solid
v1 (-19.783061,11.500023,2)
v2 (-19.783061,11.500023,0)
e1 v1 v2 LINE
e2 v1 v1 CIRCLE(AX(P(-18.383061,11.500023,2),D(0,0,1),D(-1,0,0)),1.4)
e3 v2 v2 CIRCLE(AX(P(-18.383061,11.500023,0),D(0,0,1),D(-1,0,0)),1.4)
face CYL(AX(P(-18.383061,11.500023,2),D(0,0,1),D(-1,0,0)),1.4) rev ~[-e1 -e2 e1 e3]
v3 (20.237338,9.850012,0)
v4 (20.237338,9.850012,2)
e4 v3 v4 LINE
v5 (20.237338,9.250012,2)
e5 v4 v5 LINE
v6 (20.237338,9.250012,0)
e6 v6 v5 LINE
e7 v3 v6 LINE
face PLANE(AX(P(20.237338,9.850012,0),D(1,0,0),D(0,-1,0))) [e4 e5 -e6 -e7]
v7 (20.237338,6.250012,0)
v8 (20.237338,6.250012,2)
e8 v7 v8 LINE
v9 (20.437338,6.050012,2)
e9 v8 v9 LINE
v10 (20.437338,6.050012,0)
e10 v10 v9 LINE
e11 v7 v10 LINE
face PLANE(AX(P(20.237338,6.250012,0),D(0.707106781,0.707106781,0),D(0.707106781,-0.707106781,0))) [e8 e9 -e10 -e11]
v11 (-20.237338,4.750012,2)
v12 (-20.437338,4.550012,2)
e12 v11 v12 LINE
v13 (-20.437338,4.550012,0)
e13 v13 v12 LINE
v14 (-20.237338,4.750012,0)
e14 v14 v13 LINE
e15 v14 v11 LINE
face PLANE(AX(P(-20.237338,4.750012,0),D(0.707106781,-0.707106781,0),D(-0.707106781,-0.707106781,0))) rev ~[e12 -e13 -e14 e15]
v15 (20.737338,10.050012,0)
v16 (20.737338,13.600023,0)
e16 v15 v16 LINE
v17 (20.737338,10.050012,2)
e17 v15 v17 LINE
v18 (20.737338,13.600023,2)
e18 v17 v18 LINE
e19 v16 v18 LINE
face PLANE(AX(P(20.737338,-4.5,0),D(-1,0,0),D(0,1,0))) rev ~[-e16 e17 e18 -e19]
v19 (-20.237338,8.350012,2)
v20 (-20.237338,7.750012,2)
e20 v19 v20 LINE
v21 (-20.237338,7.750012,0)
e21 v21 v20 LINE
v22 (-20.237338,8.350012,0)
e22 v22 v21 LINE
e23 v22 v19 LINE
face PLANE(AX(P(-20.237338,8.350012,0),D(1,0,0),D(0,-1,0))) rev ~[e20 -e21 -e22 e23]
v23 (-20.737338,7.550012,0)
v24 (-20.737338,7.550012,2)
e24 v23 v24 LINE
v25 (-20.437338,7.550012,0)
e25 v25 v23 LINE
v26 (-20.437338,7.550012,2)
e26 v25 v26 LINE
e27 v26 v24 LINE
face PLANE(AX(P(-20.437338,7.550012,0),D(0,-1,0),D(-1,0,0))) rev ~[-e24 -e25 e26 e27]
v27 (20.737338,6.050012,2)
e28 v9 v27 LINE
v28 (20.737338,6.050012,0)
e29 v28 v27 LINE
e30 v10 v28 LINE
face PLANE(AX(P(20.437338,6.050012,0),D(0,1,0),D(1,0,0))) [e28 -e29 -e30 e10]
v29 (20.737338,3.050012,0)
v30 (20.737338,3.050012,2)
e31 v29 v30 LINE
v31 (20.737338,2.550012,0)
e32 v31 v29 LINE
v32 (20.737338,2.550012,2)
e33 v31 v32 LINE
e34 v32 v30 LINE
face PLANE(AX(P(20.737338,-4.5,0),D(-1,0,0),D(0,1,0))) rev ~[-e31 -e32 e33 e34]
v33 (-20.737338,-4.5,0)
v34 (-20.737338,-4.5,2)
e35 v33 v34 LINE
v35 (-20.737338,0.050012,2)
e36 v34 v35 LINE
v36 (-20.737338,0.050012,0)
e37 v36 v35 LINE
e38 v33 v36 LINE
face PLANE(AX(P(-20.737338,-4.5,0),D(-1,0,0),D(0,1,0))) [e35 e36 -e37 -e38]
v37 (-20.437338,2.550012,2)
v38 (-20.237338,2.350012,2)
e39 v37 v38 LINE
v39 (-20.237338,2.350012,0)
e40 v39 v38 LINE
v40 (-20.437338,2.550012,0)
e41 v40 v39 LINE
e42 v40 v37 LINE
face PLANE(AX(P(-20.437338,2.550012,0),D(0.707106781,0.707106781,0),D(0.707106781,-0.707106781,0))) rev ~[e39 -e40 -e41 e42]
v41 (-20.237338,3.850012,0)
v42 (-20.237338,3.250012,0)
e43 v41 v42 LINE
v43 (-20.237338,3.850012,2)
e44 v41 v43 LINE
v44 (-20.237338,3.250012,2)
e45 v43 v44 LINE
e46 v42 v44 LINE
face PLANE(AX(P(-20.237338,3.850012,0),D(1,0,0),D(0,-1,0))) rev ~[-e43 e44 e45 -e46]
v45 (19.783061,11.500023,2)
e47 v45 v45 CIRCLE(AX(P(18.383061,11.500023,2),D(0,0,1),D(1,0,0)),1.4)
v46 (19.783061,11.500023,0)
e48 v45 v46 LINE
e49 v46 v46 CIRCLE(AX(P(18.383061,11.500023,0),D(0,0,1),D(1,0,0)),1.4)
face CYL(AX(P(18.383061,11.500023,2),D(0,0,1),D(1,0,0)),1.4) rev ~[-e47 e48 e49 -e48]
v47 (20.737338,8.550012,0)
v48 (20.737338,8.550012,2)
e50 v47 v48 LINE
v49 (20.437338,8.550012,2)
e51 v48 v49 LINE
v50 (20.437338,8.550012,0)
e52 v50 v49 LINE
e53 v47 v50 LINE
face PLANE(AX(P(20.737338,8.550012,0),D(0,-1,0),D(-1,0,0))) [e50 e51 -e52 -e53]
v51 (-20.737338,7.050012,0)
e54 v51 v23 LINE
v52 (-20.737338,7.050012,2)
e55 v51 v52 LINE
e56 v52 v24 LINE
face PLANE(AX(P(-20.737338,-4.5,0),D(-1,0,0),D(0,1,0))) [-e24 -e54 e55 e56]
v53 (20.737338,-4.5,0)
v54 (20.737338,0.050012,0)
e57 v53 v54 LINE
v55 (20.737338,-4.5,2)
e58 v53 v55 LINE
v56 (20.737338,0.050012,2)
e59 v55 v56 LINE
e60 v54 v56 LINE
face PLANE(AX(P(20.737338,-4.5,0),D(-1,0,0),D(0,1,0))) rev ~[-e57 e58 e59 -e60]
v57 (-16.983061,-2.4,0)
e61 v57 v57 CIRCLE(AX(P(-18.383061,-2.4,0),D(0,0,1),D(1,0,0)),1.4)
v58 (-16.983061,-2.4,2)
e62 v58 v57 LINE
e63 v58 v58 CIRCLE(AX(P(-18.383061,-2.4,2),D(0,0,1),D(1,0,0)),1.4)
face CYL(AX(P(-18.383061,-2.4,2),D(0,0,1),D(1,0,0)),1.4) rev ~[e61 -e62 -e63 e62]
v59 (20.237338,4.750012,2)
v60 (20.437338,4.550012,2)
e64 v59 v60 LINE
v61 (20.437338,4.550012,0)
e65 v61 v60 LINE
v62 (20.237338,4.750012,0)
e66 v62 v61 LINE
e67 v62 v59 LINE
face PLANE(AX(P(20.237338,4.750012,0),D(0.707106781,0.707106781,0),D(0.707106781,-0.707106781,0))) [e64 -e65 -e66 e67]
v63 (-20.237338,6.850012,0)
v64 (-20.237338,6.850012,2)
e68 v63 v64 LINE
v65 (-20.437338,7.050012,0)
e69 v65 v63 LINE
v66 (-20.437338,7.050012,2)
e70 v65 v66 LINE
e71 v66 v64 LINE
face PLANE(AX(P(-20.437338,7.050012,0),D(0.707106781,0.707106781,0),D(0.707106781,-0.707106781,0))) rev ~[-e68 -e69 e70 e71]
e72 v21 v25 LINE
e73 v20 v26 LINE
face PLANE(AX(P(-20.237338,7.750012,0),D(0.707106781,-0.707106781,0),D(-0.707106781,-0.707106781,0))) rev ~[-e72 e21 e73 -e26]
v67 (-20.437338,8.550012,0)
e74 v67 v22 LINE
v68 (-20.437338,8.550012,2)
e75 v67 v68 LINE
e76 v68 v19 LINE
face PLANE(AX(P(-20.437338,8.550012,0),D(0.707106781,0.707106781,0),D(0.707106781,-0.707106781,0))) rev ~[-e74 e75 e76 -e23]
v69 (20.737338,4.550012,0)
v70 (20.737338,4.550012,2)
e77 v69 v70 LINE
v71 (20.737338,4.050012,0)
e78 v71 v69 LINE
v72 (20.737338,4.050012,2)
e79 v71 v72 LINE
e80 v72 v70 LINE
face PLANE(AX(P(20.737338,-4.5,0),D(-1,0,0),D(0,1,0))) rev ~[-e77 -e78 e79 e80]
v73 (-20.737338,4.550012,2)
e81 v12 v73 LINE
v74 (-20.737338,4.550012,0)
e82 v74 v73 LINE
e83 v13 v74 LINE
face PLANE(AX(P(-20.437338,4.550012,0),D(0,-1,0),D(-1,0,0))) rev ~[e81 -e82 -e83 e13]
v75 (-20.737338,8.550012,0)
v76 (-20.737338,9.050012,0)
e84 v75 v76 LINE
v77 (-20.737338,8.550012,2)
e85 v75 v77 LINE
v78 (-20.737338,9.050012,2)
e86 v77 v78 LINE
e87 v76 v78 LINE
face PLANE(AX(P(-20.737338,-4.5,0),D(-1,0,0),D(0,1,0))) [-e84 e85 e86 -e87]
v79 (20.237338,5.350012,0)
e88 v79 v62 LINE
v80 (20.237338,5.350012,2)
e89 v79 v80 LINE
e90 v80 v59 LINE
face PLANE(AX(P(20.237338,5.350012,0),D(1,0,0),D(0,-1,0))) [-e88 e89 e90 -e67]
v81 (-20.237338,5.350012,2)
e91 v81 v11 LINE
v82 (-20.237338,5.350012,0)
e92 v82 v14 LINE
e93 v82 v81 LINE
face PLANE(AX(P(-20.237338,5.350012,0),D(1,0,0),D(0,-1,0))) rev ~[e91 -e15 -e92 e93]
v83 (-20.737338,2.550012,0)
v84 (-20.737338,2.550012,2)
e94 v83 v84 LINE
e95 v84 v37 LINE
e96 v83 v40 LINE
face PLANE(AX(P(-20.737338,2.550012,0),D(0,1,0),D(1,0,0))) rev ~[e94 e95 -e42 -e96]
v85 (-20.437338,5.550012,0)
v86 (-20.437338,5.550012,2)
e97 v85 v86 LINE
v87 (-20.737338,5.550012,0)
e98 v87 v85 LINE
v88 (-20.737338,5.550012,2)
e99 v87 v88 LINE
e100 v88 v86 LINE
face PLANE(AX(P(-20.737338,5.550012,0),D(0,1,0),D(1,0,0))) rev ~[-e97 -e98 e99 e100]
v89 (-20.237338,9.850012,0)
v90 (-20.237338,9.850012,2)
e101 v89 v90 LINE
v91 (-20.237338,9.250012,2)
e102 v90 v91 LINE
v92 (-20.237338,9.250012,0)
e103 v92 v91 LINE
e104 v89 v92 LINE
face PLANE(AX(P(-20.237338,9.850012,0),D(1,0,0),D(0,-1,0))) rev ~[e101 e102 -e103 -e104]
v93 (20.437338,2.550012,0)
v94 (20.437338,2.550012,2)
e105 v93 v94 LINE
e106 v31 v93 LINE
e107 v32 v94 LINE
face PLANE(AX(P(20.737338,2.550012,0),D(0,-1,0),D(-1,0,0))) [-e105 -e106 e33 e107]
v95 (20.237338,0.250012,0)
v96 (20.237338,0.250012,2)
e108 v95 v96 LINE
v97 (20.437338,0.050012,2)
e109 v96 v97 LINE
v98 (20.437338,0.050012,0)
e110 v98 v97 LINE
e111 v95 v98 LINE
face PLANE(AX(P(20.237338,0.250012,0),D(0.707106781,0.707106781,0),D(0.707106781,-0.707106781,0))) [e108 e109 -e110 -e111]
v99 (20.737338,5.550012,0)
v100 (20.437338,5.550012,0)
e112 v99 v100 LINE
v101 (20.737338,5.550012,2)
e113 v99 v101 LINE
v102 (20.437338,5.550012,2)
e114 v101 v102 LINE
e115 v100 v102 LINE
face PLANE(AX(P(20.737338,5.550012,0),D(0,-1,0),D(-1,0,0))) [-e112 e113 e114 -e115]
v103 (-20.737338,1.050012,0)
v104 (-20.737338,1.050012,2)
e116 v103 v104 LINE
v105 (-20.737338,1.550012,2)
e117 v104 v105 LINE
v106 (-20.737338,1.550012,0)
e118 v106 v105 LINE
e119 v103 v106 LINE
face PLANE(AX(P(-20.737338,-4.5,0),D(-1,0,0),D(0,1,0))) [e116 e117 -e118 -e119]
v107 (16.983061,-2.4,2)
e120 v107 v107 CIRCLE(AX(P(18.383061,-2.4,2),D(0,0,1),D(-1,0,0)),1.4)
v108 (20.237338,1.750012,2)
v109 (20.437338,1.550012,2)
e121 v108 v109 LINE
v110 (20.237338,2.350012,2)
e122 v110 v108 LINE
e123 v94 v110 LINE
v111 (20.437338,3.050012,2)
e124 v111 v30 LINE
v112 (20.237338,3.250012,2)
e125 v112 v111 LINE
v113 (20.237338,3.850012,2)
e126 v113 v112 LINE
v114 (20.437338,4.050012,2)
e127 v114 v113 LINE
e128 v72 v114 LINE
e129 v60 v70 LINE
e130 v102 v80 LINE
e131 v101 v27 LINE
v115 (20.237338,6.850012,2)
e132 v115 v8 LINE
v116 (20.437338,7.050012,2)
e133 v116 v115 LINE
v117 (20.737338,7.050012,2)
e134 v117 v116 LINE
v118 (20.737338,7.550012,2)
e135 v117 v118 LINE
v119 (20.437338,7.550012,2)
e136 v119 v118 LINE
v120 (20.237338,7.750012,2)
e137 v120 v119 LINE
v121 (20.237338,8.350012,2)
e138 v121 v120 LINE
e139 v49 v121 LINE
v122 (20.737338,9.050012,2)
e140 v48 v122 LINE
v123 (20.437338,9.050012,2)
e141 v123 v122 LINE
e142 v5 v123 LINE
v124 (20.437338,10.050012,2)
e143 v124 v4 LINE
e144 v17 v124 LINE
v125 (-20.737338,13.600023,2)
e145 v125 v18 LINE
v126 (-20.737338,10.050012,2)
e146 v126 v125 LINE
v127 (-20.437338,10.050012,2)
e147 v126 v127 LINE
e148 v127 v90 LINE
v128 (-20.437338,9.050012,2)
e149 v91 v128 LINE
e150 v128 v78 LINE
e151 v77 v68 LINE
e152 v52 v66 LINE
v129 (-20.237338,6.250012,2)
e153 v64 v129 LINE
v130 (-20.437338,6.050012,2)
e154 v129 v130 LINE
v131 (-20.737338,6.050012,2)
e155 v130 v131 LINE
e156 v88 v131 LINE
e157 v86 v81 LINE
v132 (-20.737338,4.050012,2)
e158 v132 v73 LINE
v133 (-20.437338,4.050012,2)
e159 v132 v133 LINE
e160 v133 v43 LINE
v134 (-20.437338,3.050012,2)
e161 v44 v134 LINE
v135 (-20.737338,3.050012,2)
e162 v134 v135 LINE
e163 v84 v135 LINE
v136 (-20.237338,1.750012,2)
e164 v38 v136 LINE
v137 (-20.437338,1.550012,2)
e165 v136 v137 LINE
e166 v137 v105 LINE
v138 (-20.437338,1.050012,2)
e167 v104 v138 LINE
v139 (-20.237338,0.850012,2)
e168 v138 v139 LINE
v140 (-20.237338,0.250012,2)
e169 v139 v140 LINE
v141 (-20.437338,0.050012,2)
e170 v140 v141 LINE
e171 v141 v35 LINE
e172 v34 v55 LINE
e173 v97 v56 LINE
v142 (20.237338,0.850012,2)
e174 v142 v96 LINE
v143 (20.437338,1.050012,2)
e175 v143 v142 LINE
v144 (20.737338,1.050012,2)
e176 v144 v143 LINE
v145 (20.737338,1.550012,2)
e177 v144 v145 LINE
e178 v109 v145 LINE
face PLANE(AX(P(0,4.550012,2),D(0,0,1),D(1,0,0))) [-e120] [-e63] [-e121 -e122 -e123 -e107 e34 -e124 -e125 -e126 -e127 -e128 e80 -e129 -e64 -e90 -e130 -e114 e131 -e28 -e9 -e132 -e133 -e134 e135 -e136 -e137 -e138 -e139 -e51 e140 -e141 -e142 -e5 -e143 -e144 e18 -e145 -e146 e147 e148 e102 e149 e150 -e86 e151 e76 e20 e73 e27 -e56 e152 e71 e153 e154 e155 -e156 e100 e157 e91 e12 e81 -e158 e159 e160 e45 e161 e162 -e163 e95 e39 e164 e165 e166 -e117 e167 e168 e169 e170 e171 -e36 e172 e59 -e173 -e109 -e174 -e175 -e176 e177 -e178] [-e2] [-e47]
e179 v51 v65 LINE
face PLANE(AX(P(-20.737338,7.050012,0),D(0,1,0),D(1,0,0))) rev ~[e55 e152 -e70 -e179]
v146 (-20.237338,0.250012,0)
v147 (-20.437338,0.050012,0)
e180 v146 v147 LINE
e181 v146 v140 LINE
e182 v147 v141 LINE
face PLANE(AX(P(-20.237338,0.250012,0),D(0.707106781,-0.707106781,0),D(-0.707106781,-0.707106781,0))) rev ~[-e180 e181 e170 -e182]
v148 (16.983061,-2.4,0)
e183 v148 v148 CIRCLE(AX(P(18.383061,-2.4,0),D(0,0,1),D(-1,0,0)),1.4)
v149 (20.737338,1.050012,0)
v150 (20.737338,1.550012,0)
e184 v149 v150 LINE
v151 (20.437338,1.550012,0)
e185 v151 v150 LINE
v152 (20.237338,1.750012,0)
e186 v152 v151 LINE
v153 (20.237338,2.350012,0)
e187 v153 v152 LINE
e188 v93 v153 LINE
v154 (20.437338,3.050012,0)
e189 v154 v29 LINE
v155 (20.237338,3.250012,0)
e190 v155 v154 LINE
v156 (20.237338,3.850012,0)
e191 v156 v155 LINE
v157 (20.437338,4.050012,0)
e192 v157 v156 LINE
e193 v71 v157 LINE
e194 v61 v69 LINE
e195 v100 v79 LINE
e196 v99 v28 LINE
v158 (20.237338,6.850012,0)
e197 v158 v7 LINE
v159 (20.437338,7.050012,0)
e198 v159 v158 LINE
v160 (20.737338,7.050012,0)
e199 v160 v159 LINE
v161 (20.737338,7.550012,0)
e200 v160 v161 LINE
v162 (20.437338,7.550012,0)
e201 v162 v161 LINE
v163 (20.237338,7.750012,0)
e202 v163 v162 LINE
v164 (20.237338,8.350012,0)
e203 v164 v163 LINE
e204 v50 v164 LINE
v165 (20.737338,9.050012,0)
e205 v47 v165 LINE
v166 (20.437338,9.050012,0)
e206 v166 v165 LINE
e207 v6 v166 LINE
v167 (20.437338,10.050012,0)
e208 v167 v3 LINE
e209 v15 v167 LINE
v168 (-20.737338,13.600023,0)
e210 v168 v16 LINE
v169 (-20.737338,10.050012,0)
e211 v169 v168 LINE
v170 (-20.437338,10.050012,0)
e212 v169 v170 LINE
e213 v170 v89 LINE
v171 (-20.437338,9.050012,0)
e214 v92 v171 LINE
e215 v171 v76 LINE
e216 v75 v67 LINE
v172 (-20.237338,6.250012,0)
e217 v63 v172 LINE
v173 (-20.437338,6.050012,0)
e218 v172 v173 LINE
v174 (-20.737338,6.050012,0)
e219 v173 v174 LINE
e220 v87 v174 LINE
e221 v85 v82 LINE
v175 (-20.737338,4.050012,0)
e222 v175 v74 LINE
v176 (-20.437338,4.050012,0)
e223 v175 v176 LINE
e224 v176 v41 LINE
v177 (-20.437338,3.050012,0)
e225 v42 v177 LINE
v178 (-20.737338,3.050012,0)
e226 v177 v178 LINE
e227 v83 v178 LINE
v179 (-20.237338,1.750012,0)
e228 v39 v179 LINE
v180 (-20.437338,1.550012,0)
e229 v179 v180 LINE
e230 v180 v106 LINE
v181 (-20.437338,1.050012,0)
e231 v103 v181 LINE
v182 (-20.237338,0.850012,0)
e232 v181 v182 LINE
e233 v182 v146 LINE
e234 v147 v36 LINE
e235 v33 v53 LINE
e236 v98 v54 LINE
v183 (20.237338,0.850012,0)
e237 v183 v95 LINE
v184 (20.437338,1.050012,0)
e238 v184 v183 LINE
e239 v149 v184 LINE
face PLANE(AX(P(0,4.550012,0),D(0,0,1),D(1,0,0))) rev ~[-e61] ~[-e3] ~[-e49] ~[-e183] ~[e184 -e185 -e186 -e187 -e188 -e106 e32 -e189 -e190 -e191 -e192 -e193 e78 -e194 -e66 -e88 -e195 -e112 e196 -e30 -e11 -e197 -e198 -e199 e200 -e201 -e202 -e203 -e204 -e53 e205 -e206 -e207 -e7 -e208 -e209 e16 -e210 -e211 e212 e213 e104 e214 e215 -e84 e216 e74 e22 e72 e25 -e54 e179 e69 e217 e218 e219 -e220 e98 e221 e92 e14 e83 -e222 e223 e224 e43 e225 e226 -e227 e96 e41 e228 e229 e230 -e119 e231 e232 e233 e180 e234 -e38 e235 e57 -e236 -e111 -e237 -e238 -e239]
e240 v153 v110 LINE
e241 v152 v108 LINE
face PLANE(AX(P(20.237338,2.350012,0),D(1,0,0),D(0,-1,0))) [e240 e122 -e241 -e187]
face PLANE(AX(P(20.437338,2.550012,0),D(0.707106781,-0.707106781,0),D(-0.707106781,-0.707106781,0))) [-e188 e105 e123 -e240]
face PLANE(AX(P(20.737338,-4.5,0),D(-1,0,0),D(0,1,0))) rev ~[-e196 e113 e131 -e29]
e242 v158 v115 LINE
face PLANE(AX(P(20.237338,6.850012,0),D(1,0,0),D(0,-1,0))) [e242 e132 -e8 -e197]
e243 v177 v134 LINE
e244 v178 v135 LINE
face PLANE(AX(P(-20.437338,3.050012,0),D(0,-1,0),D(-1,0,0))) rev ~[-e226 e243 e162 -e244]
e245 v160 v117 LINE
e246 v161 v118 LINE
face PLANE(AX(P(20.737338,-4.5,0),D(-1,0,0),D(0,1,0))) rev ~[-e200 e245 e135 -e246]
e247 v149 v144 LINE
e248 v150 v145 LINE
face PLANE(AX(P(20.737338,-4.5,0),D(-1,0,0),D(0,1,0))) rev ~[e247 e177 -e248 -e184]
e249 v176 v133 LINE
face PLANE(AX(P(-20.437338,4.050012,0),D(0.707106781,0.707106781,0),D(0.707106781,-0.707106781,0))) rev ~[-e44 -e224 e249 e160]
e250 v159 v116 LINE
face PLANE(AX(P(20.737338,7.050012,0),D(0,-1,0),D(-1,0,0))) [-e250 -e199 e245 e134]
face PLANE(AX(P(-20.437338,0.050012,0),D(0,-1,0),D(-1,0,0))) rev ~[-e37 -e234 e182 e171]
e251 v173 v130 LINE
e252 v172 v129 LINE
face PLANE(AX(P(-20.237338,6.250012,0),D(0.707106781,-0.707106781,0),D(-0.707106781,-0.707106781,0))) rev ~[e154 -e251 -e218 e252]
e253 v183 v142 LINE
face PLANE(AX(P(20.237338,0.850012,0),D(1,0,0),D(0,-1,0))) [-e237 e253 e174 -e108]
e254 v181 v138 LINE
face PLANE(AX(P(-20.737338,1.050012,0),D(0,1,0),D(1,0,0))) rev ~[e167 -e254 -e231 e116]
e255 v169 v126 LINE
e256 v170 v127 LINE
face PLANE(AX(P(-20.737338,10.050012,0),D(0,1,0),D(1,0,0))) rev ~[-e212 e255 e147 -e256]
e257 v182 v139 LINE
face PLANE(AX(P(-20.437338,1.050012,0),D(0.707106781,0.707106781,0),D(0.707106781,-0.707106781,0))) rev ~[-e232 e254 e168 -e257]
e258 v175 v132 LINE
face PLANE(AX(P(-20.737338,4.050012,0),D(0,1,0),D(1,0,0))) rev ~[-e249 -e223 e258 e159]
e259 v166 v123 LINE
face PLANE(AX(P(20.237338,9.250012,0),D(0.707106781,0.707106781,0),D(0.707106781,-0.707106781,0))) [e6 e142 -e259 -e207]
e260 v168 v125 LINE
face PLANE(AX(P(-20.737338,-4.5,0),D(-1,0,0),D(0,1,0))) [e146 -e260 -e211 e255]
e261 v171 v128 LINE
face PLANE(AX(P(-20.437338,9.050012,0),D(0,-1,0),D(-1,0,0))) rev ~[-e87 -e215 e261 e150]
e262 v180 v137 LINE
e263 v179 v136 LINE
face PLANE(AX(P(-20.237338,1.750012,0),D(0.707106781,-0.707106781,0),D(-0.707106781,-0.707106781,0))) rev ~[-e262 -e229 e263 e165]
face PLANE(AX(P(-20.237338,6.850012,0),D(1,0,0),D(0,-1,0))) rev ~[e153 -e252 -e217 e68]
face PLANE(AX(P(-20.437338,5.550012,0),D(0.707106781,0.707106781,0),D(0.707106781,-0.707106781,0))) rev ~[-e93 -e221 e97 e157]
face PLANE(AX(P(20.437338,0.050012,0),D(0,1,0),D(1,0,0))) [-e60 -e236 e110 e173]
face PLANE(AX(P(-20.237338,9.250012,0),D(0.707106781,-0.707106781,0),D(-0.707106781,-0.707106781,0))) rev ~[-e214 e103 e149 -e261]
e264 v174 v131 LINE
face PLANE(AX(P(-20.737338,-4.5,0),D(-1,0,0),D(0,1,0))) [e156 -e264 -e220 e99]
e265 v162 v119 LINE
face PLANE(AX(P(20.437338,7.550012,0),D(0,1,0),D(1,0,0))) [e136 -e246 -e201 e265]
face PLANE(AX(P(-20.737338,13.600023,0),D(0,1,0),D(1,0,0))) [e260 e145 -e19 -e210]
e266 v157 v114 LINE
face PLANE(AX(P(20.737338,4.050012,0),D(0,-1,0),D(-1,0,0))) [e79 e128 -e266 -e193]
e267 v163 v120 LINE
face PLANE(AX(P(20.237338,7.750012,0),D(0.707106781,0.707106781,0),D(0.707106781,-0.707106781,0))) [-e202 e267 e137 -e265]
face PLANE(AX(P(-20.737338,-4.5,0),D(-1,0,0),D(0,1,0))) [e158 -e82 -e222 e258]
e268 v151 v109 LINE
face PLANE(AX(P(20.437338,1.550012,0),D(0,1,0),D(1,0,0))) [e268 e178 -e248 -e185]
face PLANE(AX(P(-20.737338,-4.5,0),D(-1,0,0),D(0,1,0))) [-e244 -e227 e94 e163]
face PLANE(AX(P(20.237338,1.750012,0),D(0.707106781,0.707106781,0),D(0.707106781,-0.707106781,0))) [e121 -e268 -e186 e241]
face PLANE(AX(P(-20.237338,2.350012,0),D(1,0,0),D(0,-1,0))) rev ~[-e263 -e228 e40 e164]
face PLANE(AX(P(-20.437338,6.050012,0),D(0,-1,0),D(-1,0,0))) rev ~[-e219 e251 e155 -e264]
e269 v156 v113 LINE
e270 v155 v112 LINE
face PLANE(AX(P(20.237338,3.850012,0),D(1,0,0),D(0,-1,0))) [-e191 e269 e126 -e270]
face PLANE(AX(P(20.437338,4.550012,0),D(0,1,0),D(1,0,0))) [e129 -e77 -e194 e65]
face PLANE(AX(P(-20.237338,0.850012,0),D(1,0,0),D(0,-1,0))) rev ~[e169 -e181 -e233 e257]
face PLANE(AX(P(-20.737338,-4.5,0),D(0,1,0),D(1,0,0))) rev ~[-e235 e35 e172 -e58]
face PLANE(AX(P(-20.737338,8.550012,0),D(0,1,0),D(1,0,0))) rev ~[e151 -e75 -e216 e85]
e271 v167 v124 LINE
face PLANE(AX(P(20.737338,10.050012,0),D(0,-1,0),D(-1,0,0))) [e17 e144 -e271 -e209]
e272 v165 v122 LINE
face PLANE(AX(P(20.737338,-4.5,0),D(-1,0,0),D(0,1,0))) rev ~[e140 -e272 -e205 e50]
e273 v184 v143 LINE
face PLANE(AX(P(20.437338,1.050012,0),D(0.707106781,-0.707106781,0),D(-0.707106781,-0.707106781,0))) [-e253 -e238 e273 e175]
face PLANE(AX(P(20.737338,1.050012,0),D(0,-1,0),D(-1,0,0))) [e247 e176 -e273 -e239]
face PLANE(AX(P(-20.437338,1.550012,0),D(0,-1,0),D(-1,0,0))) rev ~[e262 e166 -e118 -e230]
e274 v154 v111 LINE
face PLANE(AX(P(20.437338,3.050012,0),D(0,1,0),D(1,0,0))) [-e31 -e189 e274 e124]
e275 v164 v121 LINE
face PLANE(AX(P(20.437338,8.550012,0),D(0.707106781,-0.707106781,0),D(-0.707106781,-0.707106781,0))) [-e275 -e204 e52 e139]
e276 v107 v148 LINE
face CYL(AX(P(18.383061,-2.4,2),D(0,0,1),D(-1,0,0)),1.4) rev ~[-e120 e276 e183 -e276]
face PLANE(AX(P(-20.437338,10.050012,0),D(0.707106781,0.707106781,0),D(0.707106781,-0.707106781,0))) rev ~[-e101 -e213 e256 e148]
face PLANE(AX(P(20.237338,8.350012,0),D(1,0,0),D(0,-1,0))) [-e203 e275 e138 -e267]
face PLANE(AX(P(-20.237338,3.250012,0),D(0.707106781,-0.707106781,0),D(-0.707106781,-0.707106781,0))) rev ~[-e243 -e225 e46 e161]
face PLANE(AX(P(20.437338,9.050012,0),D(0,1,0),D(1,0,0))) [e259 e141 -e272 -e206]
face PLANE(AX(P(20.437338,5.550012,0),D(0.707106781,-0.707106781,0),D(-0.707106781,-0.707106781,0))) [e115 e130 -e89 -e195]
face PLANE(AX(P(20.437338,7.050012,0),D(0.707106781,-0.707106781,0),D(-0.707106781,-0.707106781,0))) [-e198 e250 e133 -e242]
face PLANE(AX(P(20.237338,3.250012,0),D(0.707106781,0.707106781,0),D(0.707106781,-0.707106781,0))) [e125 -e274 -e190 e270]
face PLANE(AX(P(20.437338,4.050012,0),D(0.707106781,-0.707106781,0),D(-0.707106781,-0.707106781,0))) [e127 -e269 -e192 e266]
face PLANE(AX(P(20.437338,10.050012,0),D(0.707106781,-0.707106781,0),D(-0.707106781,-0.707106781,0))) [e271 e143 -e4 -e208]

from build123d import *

# Parameters (mm, degrees)
SKETCH_1_W          = 41.47467615
SKETCH_1_H          = 18.100023376
EXTRUDE_1_DEPTH     = 2
CUT_EXTRUDE_1_REACH = 26.88
SKETCH_2_R          = 1.4
CUT_EXTRUDE_2_REACH = 26.88


with BuildPart() as part:
    # 草图1 → 凸台-拉伸1 (new body)
    with BuildSketch(Plane.XY):
        with Locations((0, 4.550011688)):
            Rectangle(SKETCH_1_W, SKETCH_1_H)
    extrude(amount=EXTRUDE_1_DEPTH)

    # 草图2 → 切除-拉伸1 (cut, up to next)
    with BuildSketch(Plane.XY.offset(2), mode=Mode.PRIVATE) as cut_extrude_1_sk1:
        with Locations((-18.383061341, -2.4)):
            Circle(SKETCH_2_R)
    cut_extrude_1_tool1 = extrude(cut_extrude_1_sk1.sketch, amount=-CUT_EXTRUDE_1_REACH, mode=Mode.PRIVATE) & part.part
    # 草图2 → 切除-拉伸1 (cut, up to next)
    with BuildSketch(Plane.XY.offset(2), mode=Mode.PRIVATE) as cut_extrude_1_sk2:
        with Locations(Location((18.383061341, -2.4, 0), (0, 0, 180))):
            Circle(SKETCH_2_R)
    cut_extrude_1_tool2 = extrude(cut_extrude_1_sk2.sketch, amount=-CUT_EXTRUDE_1_REACH, mode=Mode.PRIVATE) & part.part
    # 草图2 → 切除-拉伸1 (cut, up to next)
    with BuildSketch(Plane.XY.offset(2), mode=Mode.PRIVATE) as cut_extrude_1_sk3:
        with Locations((18.383061341, 11.500023376)):
            Circle(SKETCH_2_R)
    cut_extrude_1_tool3 = extrude(cut_extrude_1_sk3.sketch, amount=-CUT_EXTRUDE_1_REACH, mode=Mode.PRIVATE) & part.part
    # 草图2 → 切除-拉伸1 (cut, up to next)
    with BuildSketch(Plane.XY.offset(2), mode=Mode.PRIVATE) as cut_extrude_1_sk4:
        with Locations(Location((-18.383061341, 11.500023376, 0), (0, 0, 180))):
            Circle(SKETCH_2_R)
    cut_extrude_1_tool4 = extrude(cut_extrude_1_sk4.sketch, amount=-CUT_EXTRUDE_1_REACH, mode=Mode.PRIVATE) & part.part
    add(cut_extrude_1_tool1.solids().sort_by_distance((-18.383061, -2.4, 2))[0], mode=Mode.SUBTRACT)
    add(cut_extrude_1_tool2.solids().sort_by_distance((18.383061, -2.4, 2))[0], mode=Mode.SUBTRACT)
    add(cut_extrude_1_tool3.solids().sort_by_distance((18.383061, 11.500023, 2))[0], mode=Mode.SUBTRACT)
    add(cut_extrude_1_tool4.solids().sort_by_distance((-18.383061, 11.500023, 2))[0], mode=Mode.SUBTRACT)

    # 草图3 → 切除-拉伸2 (cut, up to next)
    with BuildSketch(Plane(origin=(0, 0, 0), x_dir=(-1, 0, 0), z_dir=(0, 0, -1)), mode=Mode.PRIVATE) as cut_extrude_2_sk1:
        Polygon((-20.737338075, 1.050011688), (-20.437338075, 1.050011688), (-20.237338075, 0.850011688), (-20.237338075, 0.250011688), (-20.437338075, 0.050011688), (-20.737338075, 0.050011688), align=None)
    cut_extrude_2_tool1 = extrude(cut_extrude_2_sk1.sketch, amount=-CUT_EXTRUDE_2_REACH, mode=Mode.PRIVATE) & part.part
    # 草图3 → 切除-拉伸2 (cut, up to next)
    with BuildSketch(Plane(origin=(0, 0, 0), x_dir=(-1, 0, 0), z_dir=(0, 0, -1)), mode=Mode.PRIVATE) as cut_extrude_2_sk2:
        Polygon((-20.737338075, 2.550011688), (-20.437338075, 2.550011688), (-20.237338075, 2.350011688), (-20.237338075, 1.750011688), (-20.437338075, 1.550011688), (-20.737338075, 1.550011688), align=None)
    cut_extrude_2_tool2 = extrude(cut_extrude_2_sk2.sketch, amount=-CUT_EXTRUDE_2_REACH, mode=Mode.PRIVATE) & part.part
    # 草图3 → 切除-拉伸2 (cut, up to next)
    with BuildSketch(Plane(origin=(0, 0, 0), x_dir=(-1, 0, 0), z_dir=(0, 0, -1)), mode=Mode.PRIVATE) as cut_extrude_2_sk3:
        Polygon((-20.737338075, 4.050011688), (-20.437338075, 4.050011688), (-20.237338075, 3.850011688), (-20.237338075, 3.250011688), (-20.437338075, 3.050011688), (-20.737338075, 3.050011688), align=None)
    cut_extrude_2_tool3 = extrude(cut_extrude_2_sk3.sketch, amount=-CUT_EXTRUDE_2_REACH, mode=Mode.PRIVATE) & part.part
    # 草图3 → 切除-拉伸2 (cut, up to next)
    with BuildSketch(Plane(origin=(0, 0, 0), x_dir=(-1, 0, 0), z_dir=(0, 0, -1)), mode=Mode.PRIVATE) as cut_extrude_2_sk4:
        Polygon((-20.737338075, 5.550011688), (-20.437338075, 5.550011688), (-20.237338075, 5.350011688), (-20.237338075, 4.750011688), (-20.437338075, 4.550011688), (-20.737338075, 4.550011688), align=None)
    cut_extrude_2_tool4 = extrude(cut_extrude_2_sk4.sketch, amount=-CUT_EXTRUDE_2_REACH, mode=Mode.PRIVATE) & part.part
    # 草图3 → 切除-拉伸2 (cut, up to next)
    with BuildSketch(Plane(origin=(0, 0, 0), x_dir=(-1, 0, 0), z_dir=(0, 0, -1)), mode=Mode.PRIVATE) as cut_extrude_2_sk5:
        Polygon((-20.737338075, 7.050011688), (-20.437338075, 7.050011688), (-20.237338075, 6.850011688), (-20.237338075, 6.250011688), (-20.437338075, 6.050011688), (-20.737338075, 6.050011688), align=None)
    cut_extrude_2_tool5 = extrude(cut_extrude_2_sk5.sketch, amount=-CUT_EXTRUDE_2_REACH, mode=Mode.PRIVATE) & part.part
    # 草图3 → 切除-拉伸2 (cut, up to next)
    with BuildSketch(Plane(origin=(0, 0, 0), x_dir=(-1, 0, 0), z_dir=(0, 0, -1)), mode=Mode.PRIVATE) as cut_extrude_2_sk6:
        Polygon((-20.737338075, 8.550011688), (-20.437338075, 8.550011688), (-20.237338075, 8.350011688), (-20.237338075, 7.750011688), (-20.437338075, 7.550011688), (-20.737338075, 7.550011688), align=None)
    cut_extrude_2_tool6 = extrude(cut_extrude_2_sk6.sketch, amount=-CUT_EXTRUDE_2_REACH, mode=Mode.PRIVATE) & part.part
    # 草图3 → 切除-拉伸2 (cut, up to next)
    with BuildSketch(Plane(origin=(0, 0, 0), x_dir=(-1, 0, 0), z_dir=(0, 0, -1)), mode=Mode.PRIVATE) as cut_extrude_2_sk7:
        Polygon((-20.737338075, 10.050011688), (-20.437338075, 10.050011688), (-20.237338075, 9.850011688), (-20.237338075, 9.250011688), (-20.437338075, 9.050011688), (-20.737338075, 9.050011688), align=None)
    cut_extrude_2_tool7 = extrude(cut_extrude_2_sk7.sketch, amount=-CUT_EXTRUDE_2_REACH, mode=Mode.PRIVATE) & part.part
    # 草图3 → 切除-拉伸2 (cut, up to next)
    with BuildSketch(Plane(origin=(0, 0, 0), x_dir=(-1, 0, 0), z_dir=(0, 0, -1)), mode=Mode.PRIVATE) as cut_extrude_2_sk8:
        Polygon((20.737338075, 3.050011688), (20.737338075, 4.050011688), (20.437338075, 4.050011688), (20.237338075, 3.850011688), (20.237338075, 3.250011688), (20.437338075, 3.050011688), align=None)
    cut_extrude_2_tool8 = extrude(cut_extrude_2_sk8.sketch, amount=-CUT_EXTRUDE_2_REACH, mode=Mode.PRIVATE) & part.part
    # 草图3 → 切除-拉伸2 (cut, up to next)
    with BuildSketch(Plane(origin=(0, 0, 0), x_dir=(-1, 0, 0), z_dir=(0, 0, -1)), mode=Mode.PRIVATE) as cut_extrude_2_sk9:
        Polygon((20.737338075, 1.550011688), (20.737338075, 2.550011688), (20.437338075, 2.550011688), (20.237338075, 2.350011688), (20.237338075, 1.750011688), (20.437338075, 1.550011688), align=None)
    cut_extrude_2_tool9 = extrude(cut_extrude_2_sk9.sketch, amount=-CUT_EXTRUDE_2_REACH, mode=Mode.PRIVATE) & part.part
    # 草图3 → 切除-拉伸2 (cut, up to next)
    with BuildSketch(Plane(origin=(0, 0, 0), x_dir=(-1, 0, 0), z_dir=(0, 0, -1)), mode=Mode.PRIVATE) as cut_extrude_2_sk10:
        Polygon((20.737338075, 4.550011688), (20.737338075, 5.550011688), (20.437338075, 5.550011688), (20.237338075, 5.350011688), (20.237338075, 4.750011688), (20.437338075, 4.550011688), align=None)
    cut_extrude_2_tool10 = extrude(cut_extrude_2_sk10.sketch, amount=-CUT_EXTRUDE_2_REACH, mode=Mode.PRIVATE) & part.part
    # 草图3 → 切除-拉伸2 (cut, up to next)
    with BuildSketch(Plane(origin=(0, 0, 0), x_dir=(-1, 0, 0), z_dir=(0, 0, -1)), mode=Mode.PRIVATE) as cut_extrude_2_sk11:
        Polygon((20.737338075, 6.050011688), (20.737338075, 7.050011688), (20.437338075, 7.050011688), (20.237338075, 6.850011688), (20.237338075, 6.250011688), (20.437338075, 6.050011688), align=None)
    cut_extrude_2_tool11 = extrude(cut_extrude_2_sk11.sketch, amount=-CUT_EXTRUDE_2_REACH, mode=Mode.PRIVATE) & part.part
    # 草图3 → 切除-拉伸2 (cut, up to next)
    with BuildSketch(Plane(origin=(0, 0, 0), x_dir=(-1, 0, 0), z_dir=(0, 0, -1)), mode=Mode.PRIVATE) as cut_extrude_2_sk12:
        Polygon((20.737338075, 7.550011688), (20.737338075, 8.550011688), (20.437338075, 8.550011688), (20.237338075, 8.350011688), (20.237338075, 7.750011688), (20.437338075, 7.550011688), align=None)
    cut_extrude_2_tool12 = extrude(cut_extrude_2_sk12.sketch, amount=-CUT_EXTRUDE_2_REACH, mode=Mode.PRIVATE) & part.part
    # 草图3 → 切除-拉伸2 (cut, up to next)
    with BuildSketch(Plane(origin=(0, 0, 0), x_dir=(-1, 0, 0), z_dir=(0, 0, -1)), mode=Mode.PRIVATE) as cut_extrude_2_sk13:
        Polygon((20.737338075, 9.050011688), (20.737338075, 10.050011688), (20.437338075, 10.050011688), (20.237338075, 9.850011688), (20.237338075, 9.250011688), (20.437338075, 9.050011688), align=None)
    cut_extrude_2_tool13 = extrude(cut_extrude_2_sk13.sketch, amount=-CUT_EXTRUDE_2_REACH, mode=Mode.PRIVATE) & part.part
    # 草图3 → 切除-拉伸2 (cut, up to next)
    with BuildSketch(Plane(origin=(0, 0, 0), x_dir=(-1, 0, 0), z_dir=(0, 0, -1)), mode=Mode.PRIVATE) as cut_extrude_2_sk14:
        Polygon((20.737338075, 0.050011688), (20.737338075, 1.050011688), (20.437338075, 1.050011688), (20.237338075, 0.850011688), (20.237338075, 0.250011688), (20.437338075, 0.050011688), align=None)
    cut_extrude_2_tool14 = extrude(cut_extrude_2_sk14.sketch, amount=-CUT_EXTRUDE_2_REACH, mode=Mode.PRIVATE) & part.part
    add(cut_extrude_2_tool1.solids().sort_by_distance((20.50328, 0.550012, 0))[0], mode=Mode.SUBTRACT)
    add(cut_extrude_2_tool2.solids().sort_by_distance((20.50328, 2.050012, 0))[0], mode=Mode.SUBTRACT)
    add(cut_extrude_2_tool3.solids().sort_by_distance((20.50328, 3.550012, 0))[0], mode=Mode.SUBTRACT)
    add(cut_extrude_2_tool4.solids().sort_by_distance((20.50328, 5.050012, 0))[0], mode=Mode.SUBTRACT)
    add(cut_extrude_2_tool5.solids().sort_by_distance((20.50328, 6.550012, 0))[0], mode=Mode.SUBTRACT)
    add(cut_extrude_2_tool6.solids().sort_by_distance((20.50328, 8.050012, 0))[0], mode=Mode.SUBTRACT)
    add(cut_extrude_2_tool7.solids().sort_by_distance((20.50328, 9.550012, 0))[0], mode=Mode.SUBTRACT)
    add(cut_extrude_2_tool8.solids().sort_by_distance((-20.50328, 3.550012, 0))[0], mode=Mode.SUBTRACT)
    add(cut_extrude_2_tool9.solids().sort_by_distance((-20.50328, 2.050012, 0))[0], mode=Mode.SUBTRACT)
    add(cut_extrude_2_tool10.solids().sort_by_distance((-20.50328, 5.050012, 0))[0], mode=Mode.SUBTRACT)
    add(cut_extrude_2_tool11.solids().sort_by_distance((-20.50328, 6.550012, 0))[0], mode=Mode.SUBTRACT)
    add(cut_extrude_2_tool12.solids().sort_by_distance((-20.50328, 8.050012, 0))[0], mode=Mode.SUBTRACT)
    add(cut_extrude_2_tool13.solids().sort_by_distance((-20.50328, 9.550012, 0))[0], mode=Mode.SUBTRACT)
    add(cut_extrude_2_tool14.solids().sort_by_distance((-20.50328, 0.550012, 0))[0], mode=Mode.SUBTRACT)


solid = part.part
